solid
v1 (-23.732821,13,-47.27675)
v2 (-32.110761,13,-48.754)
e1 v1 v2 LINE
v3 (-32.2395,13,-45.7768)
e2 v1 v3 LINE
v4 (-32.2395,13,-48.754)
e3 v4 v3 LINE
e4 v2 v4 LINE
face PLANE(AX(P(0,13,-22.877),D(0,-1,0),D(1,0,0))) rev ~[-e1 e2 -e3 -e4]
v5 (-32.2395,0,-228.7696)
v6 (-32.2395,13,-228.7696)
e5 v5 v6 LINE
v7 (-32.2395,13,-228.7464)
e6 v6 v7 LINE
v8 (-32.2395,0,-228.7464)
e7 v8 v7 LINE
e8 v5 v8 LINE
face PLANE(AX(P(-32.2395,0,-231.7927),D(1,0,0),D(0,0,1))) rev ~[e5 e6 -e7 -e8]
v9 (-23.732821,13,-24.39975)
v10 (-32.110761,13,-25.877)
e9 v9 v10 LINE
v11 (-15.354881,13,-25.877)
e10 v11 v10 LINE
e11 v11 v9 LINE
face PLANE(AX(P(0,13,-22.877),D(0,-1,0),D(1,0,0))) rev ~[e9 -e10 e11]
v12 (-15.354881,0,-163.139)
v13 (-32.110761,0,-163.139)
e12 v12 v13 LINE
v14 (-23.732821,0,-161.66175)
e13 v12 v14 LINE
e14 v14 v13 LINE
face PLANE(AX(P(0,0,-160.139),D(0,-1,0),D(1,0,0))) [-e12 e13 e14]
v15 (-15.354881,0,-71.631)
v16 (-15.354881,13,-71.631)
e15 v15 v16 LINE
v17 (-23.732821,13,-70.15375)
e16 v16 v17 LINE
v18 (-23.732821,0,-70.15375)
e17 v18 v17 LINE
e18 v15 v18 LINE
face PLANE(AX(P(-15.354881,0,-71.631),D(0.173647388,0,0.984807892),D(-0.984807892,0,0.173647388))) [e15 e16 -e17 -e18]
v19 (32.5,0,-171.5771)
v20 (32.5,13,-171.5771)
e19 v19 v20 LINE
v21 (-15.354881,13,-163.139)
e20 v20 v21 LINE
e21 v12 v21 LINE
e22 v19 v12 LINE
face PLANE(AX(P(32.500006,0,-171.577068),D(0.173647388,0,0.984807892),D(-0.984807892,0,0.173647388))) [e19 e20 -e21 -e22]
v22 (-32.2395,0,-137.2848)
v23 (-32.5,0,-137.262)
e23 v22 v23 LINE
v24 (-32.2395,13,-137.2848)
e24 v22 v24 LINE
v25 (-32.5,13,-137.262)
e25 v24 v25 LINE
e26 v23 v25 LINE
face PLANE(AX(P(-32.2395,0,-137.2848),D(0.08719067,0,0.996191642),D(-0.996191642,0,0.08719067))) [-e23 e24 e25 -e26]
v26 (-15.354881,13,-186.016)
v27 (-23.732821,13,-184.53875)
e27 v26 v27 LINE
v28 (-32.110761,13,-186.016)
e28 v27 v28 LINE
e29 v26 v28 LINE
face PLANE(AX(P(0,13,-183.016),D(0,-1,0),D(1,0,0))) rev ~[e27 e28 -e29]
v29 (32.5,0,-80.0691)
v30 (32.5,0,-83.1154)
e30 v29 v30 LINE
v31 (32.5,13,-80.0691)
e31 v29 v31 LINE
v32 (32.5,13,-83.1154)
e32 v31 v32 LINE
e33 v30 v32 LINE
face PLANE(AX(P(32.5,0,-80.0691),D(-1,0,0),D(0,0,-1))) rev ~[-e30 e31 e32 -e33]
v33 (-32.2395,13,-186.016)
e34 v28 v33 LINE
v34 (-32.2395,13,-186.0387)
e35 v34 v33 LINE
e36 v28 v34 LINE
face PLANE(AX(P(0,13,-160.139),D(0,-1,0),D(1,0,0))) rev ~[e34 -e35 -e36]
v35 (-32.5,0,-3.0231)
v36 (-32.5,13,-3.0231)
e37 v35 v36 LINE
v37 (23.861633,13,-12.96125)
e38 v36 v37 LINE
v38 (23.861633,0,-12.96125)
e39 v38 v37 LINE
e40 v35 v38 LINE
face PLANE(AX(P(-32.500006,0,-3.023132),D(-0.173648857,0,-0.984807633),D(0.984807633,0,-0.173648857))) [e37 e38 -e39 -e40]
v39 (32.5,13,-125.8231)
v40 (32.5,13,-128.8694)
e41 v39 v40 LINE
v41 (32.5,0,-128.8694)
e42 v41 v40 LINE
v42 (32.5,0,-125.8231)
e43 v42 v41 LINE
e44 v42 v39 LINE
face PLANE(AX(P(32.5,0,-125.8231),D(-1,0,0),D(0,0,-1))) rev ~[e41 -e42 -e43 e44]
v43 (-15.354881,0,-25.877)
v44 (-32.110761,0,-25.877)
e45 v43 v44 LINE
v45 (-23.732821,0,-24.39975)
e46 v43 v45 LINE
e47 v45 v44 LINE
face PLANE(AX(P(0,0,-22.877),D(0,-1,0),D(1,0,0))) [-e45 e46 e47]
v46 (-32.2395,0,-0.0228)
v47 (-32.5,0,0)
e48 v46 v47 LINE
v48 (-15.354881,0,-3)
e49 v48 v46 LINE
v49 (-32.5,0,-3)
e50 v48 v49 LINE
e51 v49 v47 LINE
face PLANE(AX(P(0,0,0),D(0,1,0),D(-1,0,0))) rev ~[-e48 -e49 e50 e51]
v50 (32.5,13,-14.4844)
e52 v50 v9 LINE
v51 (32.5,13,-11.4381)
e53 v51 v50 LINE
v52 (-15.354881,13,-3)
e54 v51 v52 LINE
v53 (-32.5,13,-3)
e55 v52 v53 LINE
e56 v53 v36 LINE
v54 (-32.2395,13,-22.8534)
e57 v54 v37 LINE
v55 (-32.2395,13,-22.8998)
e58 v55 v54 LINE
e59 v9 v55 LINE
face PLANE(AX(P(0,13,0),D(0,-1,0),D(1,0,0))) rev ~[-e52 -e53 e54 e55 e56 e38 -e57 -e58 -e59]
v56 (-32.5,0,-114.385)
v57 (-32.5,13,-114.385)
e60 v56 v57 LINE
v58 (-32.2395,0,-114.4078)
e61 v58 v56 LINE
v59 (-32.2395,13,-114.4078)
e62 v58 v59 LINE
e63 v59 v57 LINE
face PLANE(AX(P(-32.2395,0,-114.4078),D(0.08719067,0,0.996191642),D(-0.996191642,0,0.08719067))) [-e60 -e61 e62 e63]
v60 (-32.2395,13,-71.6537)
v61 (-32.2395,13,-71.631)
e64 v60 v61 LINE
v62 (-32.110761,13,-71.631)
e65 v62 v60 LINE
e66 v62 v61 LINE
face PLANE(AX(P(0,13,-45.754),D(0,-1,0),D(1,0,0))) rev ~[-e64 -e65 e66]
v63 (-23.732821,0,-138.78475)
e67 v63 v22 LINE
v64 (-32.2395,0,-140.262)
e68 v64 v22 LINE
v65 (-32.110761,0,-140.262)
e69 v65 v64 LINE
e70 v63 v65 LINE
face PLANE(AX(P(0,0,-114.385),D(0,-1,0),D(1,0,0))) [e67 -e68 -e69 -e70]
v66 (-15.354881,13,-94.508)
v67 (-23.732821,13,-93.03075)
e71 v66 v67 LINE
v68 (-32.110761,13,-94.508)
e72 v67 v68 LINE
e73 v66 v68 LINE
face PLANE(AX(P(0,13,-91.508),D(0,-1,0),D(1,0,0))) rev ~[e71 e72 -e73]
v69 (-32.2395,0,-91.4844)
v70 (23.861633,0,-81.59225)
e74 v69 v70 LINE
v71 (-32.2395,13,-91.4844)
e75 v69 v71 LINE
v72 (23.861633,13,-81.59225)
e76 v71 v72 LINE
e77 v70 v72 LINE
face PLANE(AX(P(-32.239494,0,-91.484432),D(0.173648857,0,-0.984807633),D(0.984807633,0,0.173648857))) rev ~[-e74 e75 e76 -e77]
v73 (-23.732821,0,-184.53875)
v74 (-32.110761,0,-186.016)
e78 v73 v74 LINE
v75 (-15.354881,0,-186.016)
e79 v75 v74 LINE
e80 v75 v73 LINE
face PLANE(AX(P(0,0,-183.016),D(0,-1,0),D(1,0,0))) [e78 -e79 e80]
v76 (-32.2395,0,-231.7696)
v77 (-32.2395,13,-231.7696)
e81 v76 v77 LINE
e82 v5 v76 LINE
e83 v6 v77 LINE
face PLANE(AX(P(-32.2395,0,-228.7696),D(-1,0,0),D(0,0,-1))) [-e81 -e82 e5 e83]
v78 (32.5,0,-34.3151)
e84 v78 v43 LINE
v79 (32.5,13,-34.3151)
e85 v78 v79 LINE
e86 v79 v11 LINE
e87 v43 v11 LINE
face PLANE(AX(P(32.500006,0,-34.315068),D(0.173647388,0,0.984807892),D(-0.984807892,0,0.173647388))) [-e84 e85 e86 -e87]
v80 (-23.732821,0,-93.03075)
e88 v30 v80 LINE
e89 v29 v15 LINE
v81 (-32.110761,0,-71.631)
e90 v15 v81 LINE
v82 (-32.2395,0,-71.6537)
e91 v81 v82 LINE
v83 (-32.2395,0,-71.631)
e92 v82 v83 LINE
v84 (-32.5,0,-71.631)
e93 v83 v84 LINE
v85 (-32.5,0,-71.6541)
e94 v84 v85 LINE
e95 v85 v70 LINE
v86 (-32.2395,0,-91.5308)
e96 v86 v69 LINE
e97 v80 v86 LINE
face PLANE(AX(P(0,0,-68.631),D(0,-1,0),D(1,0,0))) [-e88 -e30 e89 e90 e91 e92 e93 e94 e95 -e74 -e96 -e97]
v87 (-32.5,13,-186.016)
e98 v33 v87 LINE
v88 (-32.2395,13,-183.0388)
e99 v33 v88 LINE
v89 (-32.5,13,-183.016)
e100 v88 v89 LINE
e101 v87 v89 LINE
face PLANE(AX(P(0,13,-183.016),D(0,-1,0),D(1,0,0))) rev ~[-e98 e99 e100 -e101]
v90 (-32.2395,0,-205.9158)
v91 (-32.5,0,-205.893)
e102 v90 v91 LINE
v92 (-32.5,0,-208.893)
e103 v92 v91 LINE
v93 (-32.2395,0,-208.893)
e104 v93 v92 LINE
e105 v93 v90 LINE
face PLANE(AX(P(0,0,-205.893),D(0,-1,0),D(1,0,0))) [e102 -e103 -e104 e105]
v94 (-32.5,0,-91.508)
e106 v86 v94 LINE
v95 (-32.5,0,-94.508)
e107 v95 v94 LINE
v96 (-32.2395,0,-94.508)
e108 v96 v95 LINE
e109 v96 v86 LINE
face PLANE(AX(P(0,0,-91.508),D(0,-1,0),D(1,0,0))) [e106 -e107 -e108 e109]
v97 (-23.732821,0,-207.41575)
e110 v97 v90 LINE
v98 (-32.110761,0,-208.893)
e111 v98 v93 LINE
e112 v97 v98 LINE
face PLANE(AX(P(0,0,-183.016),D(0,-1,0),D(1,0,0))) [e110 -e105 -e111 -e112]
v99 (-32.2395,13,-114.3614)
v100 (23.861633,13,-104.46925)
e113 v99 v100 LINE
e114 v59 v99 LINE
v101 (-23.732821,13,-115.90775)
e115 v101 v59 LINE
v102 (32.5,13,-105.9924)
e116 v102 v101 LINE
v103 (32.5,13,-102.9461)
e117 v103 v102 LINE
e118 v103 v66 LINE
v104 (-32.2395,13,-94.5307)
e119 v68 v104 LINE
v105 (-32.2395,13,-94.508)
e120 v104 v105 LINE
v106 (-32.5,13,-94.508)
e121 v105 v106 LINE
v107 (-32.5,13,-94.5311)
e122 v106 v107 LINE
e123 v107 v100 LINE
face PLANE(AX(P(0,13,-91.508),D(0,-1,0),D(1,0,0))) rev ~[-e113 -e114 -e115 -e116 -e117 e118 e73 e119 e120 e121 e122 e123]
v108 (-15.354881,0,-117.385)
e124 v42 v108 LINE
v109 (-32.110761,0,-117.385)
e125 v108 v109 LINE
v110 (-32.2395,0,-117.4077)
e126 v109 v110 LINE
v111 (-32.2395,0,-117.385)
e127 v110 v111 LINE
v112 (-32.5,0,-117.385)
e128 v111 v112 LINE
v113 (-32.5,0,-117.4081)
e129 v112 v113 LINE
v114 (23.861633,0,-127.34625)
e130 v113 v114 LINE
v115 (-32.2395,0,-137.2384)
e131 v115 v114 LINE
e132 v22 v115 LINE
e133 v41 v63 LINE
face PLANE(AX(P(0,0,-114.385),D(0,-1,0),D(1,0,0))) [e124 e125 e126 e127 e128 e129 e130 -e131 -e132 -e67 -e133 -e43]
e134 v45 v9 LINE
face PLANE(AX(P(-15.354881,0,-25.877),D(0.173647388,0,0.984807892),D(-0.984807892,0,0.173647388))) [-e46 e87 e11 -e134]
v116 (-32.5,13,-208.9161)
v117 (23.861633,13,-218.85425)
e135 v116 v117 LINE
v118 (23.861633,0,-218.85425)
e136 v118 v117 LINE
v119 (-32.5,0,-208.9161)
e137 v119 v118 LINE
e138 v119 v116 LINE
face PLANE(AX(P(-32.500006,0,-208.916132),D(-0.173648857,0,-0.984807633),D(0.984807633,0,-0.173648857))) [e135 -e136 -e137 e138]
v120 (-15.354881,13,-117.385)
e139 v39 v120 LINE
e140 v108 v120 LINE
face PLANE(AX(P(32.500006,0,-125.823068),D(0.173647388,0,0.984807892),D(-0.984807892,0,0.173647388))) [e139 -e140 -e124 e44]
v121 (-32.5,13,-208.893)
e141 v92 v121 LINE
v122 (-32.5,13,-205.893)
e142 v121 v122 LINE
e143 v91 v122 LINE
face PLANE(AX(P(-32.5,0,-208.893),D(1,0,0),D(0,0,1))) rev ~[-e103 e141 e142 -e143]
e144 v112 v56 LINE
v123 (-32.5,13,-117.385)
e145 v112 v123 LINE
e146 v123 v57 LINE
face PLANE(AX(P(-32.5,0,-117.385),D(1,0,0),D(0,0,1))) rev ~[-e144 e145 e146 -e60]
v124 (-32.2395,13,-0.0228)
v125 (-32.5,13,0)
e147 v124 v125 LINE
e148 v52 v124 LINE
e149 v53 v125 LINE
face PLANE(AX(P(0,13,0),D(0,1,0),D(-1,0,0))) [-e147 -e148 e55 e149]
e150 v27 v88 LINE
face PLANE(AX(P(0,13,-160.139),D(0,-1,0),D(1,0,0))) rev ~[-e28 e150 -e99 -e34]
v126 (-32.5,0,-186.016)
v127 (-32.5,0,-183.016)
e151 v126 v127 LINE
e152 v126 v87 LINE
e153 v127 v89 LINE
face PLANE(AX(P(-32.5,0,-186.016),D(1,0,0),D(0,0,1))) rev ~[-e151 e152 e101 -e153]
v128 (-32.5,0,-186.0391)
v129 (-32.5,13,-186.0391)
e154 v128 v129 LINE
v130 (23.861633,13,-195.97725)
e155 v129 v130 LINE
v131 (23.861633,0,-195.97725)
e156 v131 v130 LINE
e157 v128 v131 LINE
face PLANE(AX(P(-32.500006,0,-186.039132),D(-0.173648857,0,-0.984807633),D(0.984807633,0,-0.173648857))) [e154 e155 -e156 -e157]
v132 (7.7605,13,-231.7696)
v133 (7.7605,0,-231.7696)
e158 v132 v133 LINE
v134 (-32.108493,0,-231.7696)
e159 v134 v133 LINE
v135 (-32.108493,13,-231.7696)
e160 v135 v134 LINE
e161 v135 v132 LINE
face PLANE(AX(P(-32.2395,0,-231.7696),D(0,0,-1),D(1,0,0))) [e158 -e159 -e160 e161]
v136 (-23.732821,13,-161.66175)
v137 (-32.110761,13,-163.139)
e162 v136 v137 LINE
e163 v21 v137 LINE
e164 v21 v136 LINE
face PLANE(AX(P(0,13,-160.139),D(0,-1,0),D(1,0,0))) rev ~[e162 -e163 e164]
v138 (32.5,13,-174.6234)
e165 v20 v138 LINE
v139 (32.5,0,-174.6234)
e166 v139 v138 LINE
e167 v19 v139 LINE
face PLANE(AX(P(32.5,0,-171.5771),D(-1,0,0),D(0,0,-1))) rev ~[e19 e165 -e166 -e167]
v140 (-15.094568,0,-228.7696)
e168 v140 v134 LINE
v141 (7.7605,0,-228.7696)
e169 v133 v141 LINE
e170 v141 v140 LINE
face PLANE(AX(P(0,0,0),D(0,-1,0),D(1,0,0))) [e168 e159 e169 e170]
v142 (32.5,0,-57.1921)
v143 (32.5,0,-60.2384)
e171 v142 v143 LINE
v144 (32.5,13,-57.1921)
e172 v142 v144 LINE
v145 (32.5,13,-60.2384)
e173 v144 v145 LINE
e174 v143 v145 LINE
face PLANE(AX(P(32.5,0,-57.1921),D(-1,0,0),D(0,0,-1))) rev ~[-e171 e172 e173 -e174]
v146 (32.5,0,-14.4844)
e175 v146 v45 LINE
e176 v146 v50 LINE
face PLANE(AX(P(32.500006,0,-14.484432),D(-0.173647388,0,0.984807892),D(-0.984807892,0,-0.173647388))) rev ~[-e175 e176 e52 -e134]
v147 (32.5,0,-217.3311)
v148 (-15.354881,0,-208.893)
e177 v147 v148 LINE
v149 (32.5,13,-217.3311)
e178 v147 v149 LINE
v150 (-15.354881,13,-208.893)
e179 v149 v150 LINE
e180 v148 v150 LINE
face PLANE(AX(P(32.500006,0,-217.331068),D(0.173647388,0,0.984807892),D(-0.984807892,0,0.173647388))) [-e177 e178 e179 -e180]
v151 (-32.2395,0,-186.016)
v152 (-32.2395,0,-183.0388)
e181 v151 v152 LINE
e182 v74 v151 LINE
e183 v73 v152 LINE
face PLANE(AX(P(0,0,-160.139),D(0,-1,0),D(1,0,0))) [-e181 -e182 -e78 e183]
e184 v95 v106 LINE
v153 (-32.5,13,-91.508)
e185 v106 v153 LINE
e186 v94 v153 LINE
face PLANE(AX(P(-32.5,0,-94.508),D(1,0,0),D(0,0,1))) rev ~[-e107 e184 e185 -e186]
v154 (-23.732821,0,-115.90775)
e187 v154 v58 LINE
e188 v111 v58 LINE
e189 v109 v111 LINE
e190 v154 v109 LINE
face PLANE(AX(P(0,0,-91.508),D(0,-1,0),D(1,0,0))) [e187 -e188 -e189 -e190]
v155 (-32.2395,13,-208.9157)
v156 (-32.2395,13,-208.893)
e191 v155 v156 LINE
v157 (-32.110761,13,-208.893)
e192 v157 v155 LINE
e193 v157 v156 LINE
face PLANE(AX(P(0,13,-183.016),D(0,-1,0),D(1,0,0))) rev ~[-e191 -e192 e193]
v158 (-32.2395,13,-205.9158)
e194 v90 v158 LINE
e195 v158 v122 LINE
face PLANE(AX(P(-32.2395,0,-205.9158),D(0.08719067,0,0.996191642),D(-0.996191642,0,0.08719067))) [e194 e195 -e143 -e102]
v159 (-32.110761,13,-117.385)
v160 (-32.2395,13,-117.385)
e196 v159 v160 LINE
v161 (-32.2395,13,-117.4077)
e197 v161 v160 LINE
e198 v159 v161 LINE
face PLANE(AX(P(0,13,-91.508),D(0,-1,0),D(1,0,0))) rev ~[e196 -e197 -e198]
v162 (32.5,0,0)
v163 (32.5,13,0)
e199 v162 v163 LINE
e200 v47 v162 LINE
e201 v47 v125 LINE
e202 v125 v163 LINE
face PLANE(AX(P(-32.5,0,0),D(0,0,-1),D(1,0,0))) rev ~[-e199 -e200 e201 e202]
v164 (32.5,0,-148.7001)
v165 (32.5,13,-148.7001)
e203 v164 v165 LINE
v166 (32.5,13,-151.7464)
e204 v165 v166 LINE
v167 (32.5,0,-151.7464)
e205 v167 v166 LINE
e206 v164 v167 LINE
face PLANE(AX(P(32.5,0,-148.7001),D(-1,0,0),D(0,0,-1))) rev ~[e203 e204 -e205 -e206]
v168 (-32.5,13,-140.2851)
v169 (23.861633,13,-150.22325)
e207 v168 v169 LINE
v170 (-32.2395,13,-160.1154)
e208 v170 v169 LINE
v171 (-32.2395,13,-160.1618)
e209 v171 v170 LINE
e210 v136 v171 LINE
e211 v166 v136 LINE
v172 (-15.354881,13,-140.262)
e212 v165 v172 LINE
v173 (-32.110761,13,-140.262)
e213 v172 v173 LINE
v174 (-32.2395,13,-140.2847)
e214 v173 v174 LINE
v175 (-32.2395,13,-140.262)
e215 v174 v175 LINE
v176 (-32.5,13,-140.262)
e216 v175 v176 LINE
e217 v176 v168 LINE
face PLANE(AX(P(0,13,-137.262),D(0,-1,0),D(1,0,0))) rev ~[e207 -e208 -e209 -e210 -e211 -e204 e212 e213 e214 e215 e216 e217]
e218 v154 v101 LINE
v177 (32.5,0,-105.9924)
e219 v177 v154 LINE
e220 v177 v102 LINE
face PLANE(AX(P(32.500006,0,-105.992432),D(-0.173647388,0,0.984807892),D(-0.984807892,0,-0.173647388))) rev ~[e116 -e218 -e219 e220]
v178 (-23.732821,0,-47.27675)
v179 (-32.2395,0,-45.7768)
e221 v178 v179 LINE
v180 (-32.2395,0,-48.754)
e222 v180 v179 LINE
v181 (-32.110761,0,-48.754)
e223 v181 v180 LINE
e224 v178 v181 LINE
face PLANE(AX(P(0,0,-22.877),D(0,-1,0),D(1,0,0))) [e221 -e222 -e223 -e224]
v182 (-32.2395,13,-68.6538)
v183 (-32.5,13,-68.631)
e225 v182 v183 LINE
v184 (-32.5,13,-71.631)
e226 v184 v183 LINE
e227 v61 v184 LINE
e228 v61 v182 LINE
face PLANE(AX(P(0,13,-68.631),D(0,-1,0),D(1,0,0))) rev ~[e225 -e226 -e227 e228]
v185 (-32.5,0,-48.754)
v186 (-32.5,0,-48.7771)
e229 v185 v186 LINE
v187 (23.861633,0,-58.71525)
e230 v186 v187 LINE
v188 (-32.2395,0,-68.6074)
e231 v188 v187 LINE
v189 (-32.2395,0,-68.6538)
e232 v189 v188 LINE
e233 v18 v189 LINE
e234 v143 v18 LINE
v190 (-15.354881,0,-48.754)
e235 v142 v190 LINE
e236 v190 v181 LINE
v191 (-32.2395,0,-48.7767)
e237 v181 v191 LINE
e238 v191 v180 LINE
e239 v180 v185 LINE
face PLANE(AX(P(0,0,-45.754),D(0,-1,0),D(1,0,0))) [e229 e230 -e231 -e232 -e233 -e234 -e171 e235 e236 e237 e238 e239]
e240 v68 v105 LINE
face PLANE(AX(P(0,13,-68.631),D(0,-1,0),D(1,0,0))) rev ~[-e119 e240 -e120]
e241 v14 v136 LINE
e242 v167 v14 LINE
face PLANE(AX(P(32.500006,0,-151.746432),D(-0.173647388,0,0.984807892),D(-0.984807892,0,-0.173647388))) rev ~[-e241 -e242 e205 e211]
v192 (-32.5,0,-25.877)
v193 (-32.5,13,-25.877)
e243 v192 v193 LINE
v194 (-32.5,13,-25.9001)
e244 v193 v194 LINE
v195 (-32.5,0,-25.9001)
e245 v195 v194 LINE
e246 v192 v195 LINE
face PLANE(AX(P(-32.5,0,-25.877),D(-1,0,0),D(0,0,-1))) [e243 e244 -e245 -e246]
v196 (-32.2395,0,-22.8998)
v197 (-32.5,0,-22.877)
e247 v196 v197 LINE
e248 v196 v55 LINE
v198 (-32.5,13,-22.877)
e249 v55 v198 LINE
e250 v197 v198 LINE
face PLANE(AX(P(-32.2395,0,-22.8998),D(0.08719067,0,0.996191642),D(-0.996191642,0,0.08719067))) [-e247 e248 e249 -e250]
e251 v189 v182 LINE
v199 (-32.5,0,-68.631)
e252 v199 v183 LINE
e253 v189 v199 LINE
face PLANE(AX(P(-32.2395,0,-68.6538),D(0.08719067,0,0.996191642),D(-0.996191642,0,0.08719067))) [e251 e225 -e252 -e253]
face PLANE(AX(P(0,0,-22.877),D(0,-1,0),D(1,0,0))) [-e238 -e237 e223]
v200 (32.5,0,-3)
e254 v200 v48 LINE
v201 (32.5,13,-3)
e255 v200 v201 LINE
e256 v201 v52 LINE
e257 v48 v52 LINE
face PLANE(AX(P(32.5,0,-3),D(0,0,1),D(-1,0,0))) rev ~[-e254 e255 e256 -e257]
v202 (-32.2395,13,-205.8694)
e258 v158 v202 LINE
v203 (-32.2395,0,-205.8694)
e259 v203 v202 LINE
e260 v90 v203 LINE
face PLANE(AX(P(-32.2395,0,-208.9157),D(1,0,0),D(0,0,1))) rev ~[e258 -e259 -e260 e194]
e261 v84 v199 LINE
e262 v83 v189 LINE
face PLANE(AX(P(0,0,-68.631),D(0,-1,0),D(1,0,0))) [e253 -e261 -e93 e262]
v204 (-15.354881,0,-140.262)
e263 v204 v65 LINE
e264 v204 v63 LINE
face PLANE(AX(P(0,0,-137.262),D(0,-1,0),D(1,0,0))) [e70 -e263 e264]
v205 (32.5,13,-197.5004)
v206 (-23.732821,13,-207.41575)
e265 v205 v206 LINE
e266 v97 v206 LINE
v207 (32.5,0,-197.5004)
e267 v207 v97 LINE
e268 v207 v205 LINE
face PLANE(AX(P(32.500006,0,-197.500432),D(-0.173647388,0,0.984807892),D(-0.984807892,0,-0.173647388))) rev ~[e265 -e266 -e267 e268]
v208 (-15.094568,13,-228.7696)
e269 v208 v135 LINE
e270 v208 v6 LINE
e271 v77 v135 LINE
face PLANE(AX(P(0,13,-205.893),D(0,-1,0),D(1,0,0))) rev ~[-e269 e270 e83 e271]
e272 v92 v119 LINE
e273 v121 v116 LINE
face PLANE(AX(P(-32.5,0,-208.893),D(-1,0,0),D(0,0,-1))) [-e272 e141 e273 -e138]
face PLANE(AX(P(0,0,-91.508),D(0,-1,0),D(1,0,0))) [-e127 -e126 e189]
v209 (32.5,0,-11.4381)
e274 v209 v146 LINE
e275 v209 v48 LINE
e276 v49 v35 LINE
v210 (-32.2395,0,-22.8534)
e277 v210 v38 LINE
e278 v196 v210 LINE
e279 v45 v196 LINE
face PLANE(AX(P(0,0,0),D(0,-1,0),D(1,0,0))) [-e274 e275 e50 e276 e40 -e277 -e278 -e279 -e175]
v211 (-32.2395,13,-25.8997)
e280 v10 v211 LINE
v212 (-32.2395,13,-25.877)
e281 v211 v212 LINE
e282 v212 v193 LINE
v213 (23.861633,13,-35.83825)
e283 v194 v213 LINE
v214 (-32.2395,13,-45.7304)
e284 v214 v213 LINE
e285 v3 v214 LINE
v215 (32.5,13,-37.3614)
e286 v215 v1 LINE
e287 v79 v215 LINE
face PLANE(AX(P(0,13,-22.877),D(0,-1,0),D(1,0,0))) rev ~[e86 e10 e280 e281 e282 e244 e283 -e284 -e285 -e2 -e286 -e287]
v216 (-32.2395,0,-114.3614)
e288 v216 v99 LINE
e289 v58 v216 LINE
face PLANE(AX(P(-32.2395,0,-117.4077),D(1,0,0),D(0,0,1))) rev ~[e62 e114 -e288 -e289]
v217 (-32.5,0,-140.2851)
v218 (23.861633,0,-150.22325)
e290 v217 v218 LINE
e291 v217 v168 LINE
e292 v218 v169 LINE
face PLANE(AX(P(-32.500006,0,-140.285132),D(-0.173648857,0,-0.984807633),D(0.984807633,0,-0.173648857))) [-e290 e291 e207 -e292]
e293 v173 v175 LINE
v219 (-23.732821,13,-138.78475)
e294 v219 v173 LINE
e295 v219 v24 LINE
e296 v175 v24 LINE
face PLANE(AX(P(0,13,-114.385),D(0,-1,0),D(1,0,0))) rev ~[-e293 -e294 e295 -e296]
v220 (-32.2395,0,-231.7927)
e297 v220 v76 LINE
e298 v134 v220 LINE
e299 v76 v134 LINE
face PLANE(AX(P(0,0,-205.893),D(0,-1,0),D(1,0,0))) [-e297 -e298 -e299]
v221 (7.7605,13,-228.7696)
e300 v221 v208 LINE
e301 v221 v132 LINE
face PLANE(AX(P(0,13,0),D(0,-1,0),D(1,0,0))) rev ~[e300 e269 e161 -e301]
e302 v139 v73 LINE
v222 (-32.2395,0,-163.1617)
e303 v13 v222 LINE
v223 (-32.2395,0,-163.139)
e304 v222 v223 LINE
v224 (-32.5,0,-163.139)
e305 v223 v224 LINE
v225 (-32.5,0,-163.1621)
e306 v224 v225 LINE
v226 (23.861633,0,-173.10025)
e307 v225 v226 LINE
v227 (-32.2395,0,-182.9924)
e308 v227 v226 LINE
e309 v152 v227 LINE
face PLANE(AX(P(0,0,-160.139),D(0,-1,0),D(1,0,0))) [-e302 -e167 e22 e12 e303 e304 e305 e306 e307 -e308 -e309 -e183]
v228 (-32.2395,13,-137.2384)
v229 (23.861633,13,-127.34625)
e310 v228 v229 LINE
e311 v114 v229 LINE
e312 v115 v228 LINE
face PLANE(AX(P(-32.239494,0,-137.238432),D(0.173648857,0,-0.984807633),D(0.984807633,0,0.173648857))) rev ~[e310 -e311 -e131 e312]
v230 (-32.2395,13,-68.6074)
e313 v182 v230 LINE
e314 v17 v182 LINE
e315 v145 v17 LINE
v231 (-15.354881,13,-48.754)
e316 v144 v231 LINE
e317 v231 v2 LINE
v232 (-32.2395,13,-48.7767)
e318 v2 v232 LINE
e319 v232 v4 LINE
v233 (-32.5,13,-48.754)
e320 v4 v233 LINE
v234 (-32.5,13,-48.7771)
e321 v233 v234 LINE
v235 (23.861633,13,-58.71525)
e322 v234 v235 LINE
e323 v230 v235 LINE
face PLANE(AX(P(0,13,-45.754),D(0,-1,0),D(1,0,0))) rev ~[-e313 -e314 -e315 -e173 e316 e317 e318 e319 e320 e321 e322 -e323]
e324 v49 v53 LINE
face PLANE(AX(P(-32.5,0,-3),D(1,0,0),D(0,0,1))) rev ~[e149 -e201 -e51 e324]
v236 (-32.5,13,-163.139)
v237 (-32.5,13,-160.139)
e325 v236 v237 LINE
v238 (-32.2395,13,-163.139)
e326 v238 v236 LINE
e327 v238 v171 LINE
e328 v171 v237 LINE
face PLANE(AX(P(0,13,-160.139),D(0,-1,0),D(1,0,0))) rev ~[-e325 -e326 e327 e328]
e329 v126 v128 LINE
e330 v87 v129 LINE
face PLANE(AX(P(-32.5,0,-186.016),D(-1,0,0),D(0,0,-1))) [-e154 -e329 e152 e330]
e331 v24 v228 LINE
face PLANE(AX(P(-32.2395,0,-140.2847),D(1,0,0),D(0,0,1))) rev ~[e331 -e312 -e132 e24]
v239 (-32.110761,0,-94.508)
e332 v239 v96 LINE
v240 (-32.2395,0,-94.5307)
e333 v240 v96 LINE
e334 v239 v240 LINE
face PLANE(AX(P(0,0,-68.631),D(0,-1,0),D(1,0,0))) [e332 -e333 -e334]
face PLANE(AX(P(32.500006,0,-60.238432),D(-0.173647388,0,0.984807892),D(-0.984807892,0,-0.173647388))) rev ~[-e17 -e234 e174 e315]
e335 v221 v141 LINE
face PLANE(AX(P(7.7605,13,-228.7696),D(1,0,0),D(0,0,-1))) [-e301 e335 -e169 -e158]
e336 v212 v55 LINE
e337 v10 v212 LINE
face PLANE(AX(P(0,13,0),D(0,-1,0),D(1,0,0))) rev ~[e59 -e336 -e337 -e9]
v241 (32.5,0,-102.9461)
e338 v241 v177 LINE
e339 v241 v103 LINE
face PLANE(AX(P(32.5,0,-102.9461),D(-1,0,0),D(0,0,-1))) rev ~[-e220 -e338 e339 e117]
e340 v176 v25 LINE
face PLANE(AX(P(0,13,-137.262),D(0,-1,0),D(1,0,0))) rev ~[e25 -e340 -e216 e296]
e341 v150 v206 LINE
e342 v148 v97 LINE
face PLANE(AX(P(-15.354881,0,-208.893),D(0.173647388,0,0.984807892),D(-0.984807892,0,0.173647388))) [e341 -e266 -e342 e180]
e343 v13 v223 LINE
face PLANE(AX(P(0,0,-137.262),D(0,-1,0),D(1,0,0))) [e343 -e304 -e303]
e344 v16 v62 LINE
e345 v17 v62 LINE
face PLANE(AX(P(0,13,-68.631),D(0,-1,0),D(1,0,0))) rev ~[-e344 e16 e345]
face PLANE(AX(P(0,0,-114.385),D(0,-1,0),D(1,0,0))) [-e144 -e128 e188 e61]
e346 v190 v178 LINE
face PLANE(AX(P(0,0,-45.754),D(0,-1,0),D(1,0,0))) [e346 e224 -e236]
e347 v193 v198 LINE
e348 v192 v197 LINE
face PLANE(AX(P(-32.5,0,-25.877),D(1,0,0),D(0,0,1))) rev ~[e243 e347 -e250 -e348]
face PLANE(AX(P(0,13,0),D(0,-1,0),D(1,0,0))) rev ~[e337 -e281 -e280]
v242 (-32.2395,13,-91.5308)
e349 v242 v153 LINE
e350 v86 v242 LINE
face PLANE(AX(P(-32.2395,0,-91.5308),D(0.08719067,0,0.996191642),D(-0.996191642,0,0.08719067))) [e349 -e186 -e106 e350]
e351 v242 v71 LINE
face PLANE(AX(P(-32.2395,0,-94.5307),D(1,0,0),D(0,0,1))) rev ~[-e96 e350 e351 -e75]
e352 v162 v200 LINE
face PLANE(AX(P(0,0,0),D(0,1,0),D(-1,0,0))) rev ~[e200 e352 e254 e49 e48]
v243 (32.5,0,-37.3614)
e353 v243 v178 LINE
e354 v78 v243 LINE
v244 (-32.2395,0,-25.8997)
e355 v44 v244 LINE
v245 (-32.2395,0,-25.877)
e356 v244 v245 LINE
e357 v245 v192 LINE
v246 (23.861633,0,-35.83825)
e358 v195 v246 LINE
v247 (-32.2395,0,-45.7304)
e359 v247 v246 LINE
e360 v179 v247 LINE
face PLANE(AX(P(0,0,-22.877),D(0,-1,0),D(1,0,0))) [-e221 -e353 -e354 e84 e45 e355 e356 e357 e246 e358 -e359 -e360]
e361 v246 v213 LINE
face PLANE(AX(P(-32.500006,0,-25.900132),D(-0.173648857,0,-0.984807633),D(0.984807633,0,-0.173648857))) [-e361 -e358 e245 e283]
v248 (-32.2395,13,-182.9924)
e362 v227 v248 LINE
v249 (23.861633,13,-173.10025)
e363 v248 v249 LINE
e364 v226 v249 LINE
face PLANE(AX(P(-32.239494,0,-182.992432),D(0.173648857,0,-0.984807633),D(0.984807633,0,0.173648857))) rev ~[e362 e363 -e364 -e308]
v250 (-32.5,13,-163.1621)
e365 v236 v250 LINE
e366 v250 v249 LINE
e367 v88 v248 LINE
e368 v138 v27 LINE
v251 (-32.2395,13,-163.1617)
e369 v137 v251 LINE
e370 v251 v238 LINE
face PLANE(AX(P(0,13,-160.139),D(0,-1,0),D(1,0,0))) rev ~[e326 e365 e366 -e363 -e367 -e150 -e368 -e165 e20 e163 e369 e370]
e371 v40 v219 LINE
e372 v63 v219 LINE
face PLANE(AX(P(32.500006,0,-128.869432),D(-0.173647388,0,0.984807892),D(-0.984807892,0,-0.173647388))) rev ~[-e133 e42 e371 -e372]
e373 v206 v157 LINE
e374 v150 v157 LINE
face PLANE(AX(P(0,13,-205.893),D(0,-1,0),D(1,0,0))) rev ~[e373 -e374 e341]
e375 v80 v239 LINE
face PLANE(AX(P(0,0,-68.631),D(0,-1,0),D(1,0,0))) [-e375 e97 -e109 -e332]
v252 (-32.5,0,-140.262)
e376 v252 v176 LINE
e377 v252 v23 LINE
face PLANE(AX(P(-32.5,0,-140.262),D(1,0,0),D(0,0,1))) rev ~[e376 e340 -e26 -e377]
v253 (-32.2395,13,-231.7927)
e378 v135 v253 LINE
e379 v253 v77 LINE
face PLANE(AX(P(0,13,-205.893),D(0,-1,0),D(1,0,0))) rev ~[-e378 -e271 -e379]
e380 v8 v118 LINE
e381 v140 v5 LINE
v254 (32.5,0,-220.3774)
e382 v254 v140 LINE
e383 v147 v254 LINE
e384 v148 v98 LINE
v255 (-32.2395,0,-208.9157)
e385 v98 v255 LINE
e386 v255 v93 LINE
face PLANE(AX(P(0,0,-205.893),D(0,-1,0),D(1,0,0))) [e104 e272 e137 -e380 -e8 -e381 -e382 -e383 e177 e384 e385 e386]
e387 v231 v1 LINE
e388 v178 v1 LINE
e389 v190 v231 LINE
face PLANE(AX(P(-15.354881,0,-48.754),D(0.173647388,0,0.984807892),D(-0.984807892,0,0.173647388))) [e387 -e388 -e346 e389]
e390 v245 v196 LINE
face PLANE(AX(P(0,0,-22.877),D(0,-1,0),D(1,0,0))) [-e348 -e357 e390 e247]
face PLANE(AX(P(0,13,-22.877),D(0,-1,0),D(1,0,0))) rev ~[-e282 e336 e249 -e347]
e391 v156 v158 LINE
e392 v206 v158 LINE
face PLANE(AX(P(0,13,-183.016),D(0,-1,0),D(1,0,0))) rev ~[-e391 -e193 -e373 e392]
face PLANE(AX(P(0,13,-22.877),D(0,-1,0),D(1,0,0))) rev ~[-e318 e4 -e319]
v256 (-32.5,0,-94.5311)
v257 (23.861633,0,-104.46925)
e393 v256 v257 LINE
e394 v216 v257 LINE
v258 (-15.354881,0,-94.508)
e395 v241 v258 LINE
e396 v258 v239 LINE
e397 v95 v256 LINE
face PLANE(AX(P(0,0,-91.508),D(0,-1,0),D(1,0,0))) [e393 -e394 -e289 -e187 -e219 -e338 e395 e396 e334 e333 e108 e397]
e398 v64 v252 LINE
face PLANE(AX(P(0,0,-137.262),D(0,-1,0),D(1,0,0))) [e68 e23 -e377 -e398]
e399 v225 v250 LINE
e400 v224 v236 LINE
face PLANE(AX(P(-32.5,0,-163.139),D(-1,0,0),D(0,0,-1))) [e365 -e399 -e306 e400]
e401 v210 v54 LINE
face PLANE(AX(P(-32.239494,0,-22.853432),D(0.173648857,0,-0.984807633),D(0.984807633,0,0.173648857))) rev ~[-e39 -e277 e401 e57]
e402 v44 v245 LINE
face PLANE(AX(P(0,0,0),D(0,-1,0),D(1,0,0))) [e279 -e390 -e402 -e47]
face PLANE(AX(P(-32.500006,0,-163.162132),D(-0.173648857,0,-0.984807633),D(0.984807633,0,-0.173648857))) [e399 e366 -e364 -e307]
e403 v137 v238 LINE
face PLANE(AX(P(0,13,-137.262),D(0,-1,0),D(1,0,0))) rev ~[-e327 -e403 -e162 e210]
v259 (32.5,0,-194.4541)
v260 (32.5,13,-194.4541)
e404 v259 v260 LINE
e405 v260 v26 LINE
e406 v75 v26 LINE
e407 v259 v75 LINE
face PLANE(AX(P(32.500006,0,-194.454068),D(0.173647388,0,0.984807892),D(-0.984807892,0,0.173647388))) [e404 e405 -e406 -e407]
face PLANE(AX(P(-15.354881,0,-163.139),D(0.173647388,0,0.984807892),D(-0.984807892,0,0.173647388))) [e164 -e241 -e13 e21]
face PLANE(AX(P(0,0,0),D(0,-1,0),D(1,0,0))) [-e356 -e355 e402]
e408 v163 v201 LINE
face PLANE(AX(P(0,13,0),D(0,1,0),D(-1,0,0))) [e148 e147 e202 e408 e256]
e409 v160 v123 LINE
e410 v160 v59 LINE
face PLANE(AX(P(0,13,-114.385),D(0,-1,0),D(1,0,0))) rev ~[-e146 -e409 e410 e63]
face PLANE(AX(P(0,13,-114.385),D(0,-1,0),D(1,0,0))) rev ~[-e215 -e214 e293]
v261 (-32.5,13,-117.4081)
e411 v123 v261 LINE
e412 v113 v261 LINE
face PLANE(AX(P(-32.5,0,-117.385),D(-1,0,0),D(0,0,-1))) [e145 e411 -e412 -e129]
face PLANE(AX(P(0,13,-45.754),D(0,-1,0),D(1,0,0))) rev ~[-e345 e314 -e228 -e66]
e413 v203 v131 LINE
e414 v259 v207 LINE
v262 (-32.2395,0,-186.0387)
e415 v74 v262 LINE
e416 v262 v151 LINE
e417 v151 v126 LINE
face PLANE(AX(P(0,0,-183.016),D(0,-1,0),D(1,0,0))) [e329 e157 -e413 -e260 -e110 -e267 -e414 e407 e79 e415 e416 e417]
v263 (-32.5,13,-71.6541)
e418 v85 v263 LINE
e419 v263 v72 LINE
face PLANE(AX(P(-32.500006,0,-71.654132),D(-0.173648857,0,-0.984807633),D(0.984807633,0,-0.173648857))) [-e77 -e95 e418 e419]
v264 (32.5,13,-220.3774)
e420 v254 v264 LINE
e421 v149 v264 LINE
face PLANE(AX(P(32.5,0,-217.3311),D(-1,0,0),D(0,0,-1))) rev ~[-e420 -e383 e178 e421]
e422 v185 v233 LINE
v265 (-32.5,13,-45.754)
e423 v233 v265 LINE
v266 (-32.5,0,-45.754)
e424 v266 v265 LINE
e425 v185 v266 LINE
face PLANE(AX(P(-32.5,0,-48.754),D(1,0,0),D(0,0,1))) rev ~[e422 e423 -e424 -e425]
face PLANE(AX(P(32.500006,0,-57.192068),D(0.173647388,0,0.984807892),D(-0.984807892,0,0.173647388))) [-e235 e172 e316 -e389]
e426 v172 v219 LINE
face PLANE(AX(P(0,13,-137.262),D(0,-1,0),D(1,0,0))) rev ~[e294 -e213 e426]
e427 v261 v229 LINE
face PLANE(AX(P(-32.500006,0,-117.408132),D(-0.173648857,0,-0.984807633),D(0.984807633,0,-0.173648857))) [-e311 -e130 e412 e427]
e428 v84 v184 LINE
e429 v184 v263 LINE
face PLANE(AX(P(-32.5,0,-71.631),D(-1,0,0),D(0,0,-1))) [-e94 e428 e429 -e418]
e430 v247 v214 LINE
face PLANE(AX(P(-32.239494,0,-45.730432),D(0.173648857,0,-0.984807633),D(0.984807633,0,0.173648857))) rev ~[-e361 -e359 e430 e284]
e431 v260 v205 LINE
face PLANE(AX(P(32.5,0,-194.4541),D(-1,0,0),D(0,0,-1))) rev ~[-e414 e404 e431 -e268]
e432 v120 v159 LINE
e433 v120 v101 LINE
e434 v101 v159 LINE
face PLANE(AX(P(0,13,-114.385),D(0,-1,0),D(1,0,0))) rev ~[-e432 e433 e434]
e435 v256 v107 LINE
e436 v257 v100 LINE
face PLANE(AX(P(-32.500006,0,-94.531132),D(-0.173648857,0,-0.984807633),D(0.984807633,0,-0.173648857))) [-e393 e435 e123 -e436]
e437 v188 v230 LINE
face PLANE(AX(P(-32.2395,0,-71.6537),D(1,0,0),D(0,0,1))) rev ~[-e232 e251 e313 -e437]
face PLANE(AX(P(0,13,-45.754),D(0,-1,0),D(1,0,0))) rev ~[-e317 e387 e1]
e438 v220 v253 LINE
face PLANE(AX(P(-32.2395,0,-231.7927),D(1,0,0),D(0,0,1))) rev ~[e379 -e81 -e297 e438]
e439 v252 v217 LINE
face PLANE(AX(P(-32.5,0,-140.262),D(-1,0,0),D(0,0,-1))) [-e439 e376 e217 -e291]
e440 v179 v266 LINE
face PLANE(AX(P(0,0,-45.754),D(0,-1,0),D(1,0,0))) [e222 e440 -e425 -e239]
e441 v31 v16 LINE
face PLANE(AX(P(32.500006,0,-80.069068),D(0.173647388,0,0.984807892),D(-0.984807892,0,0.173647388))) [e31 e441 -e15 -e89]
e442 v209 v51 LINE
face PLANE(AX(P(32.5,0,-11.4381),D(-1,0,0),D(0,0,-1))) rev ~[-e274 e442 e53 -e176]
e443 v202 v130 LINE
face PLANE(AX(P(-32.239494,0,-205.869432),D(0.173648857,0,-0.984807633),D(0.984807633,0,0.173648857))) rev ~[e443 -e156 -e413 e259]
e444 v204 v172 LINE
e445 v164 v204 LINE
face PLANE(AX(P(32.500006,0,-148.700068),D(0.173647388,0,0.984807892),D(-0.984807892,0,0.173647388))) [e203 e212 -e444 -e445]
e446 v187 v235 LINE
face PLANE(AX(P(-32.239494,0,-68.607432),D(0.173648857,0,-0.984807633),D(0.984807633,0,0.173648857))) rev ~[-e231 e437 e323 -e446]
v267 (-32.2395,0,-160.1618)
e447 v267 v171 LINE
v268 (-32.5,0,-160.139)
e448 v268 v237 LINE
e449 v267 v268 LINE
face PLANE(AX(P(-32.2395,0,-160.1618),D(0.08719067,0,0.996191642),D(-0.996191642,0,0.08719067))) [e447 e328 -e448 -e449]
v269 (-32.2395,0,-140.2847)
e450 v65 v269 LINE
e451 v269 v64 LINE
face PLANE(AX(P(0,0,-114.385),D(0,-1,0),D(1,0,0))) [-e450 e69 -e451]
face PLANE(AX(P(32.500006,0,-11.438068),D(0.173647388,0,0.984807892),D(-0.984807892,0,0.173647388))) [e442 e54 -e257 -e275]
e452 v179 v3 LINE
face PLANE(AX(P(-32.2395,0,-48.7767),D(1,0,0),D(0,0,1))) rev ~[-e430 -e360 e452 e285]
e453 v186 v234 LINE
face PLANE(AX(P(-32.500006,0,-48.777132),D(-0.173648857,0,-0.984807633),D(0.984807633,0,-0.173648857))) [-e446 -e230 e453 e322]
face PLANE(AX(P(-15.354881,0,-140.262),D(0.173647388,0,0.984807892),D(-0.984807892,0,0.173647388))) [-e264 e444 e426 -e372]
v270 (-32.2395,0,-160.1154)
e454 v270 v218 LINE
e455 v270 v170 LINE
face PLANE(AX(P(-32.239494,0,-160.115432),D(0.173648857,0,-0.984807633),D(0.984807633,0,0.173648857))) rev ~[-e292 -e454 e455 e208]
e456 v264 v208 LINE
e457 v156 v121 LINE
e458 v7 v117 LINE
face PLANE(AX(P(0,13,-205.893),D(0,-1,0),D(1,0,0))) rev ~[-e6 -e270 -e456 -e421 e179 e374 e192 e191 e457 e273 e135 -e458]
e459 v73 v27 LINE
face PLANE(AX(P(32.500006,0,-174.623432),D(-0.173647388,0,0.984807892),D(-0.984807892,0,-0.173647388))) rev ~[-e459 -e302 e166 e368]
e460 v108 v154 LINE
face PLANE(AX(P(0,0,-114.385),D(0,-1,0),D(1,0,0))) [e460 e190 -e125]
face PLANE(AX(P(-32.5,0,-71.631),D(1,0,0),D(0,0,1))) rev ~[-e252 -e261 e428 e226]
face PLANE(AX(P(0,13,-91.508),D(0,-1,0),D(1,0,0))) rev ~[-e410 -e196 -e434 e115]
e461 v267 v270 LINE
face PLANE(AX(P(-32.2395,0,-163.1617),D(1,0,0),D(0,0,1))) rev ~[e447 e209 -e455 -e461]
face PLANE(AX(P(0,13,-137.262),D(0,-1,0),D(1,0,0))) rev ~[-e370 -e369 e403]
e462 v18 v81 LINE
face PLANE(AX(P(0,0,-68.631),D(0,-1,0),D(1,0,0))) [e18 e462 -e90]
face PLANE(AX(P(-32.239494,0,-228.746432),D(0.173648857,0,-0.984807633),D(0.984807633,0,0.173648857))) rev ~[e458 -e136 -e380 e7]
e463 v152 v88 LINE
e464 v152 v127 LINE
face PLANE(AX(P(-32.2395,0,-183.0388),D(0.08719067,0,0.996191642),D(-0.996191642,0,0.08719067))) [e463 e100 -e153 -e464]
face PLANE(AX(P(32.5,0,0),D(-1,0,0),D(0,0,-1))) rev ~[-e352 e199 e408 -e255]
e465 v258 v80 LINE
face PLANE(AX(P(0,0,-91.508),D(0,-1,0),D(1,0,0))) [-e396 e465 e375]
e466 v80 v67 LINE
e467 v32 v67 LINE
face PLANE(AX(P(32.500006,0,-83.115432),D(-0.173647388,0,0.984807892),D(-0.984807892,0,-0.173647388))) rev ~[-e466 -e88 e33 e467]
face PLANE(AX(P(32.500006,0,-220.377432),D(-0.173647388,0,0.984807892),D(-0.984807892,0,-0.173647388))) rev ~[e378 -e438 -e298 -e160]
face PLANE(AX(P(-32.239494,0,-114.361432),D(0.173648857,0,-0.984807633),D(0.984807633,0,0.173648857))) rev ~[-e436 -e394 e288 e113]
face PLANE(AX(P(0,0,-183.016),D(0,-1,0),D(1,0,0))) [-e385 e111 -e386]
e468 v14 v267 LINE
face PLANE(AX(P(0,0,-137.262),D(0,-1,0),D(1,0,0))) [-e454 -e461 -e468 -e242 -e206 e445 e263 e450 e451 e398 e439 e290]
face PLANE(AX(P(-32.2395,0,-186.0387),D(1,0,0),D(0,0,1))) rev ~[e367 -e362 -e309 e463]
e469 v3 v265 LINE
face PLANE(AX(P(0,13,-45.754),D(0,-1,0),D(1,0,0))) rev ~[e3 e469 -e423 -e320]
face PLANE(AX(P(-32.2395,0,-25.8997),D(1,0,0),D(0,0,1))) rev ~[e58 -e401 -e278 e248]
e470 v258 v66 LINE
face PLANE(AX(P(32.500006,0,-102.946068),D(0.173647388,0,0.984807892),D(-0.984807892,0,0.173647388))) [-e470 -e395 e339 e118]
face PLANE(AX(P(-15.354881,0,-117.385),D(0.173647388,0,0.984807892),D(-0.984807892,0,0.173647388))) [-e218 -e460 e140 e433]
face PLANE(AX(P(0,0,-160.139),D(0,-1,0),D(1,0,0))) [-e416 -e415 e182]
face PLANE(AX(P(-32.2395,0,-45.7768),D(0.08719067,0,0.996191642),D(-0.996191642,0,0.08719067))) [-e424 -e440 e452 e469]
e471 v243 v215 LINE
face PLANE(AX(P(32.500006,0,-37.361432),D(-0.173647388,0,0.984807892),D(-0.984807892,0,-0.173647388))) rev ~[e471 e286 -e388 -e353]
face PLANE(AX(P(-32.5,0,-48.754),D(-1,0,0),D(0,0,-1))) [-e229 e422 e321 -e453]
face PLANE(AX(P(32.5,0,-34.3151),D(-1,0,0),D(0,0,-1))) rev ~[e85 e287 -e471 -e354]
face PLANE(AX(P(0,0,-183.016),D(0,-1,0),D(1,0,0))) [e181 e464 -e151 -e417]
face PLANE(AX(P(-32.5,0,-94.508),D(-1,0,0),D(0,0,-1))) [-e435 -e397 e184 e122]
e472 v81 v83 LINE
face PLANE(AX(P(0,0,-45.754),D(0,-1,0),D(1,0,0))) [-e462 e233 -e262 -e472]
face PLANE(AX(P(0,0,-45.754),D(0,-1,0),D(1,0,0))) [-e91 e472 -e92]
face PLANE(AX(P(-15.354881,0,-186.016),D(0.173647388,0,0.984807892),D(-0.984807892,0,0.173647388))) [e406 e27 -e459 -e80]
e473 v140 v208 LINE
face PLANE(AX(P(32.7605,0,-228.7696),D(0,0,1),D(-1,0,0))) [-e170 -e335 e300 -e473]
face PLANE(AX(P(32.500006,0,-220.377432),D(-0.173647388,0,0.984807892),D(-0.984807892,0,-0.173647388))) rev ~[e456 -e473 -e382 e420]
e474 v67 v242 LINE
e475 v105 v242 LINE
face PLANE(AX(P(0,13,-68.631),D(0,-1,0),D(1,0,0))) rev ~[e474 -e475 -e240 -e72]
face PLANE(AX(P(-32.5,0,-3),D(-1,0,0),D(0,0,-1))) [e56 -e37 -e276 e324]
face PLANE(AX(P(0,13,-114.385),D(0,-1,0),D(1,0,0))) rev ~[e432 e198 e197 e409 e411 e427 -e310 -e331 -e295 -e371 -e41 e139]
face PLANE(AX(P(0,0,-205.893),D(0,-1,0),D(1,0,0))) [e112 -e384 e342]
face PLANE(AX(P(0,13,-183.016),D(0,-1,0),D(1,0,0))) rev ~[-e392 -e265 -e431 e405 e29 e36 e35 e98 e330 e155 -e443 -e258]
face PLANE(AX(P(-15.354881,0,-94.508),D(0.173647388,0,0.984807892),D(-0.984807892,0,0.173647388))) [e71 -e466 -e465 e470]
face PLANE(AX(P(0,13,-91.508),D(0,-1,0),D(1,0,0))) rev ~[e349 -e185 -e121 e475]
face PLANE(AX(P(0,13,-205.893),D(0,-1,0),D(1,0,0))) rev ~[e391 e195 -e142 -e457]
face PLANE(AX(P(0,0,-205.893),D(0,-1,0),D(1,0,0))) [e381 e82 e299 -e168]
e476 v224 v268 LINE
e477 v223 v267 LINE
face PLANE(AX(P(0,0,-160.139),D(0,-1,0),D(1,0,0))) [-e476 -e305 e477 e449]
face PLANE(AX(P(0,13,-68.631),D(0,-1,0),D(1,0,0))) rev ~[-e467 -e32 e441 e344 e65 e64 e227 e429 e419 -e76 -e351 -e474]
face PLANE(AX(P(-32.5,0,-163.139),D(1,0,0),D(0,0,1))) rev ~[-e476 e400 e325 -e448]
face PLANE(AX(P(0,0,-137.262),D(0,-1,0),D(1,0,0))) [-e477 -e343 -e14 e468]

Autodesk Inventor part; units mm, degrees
ref_plane "YZ Plane" through (0, 0, 0) normal (1, 0, 0) x (0, 1, 0)
ref_plane "XZ Plane" through (0, 0, 0) normal (0, 1, 0) x (-1, 0, 0)
ref_plane "XY Plane" through (0, 0, 0) normal (0, 0, 1) x (1, 0, 0)
sketch "スケッチ2" plane through (0, 0, 0) normal (0, 1, 0) x (-1, 0, 0)
  line L0 (32.5, 0) -> (-32.5, 0)
  line L1 (-32.5, 0) -> (-32.5, -3)
  line L2 (-32.5, -3) -> (32.5, -3)
  line L3 (32.5, -3) -> (32.5, 0)
  point P0 (0, 0)
  point P1 (0, 0)
  dimension "d8" = 65
  dimension "d9" = 3
extrude "押し出し2" add sketch "スケッチ2" along normal blind 13
sketch "スケッチ3" plane through (0, 0, 0) normal (0, -1, 0) x (1, 0, 0)
  line L0 (-32.2395, -0.0228) -> (-32.7605, -2.9772) construction
  line L1 (-32.7605, -2.9772) -> (32.2395, -14.4385)
  line L2 (32.2395, -14.4385) -> (32.7605, -11.484) construction
  line L3 (32.7605, -11.484) -> (-32.2395, -0.0228)
  line L4 (32.2395, -11.484) -> (32.7605, -14.4385) construction
  line L5 (32.7605, -14.4385) -> (-32.2395, -25.8997)
  line L6 (-32.2395, -25.8997) -> (-32.7605, -22.9453) construction
  line L7 (-32.7605, -22.9453) -> (32.2395, -11.484)
  line L8 (-32.5, -3) -> (-32.5, 0) projected
  line L9 (32.5, -3) -> (-32.5, -3) projected
  line L10 (32.5, 0) -> (32.5, -3) projected
  line L11 (-32.5, 0) -> (-32.5, -3.0231)
  line L12 (-32.2395, -25.8997) -> (-32.2395, -22.8534)
  line L13 (32.5, -11.4381) -> (32.5, -14.4844)
  line L14 (-32.5, -3) -> (-32.5, 0) projected
  line L15 (-32.2395, -0.0228) -> (-32.5, 0)
  point P0 (32.5, -12.9613)
  point P1 (-32.5, -1.5)
  point P2 (-32.5, -1.5)
  point P3 (-32.5, -24.4225)
  point P4 (32.5, -1.5)
  point P5 (-15.3549, -3)
  point P6 (23.8618, -12.9613)
  point P7 (-32.2395, -24.3766)
  point P8 (-32.5, -1.5)
  dimension "d13" = 10
  dimension "d14" = 20
  dimension "d17" = 22.8766
extrude "押し出し3" add sketch "スケッチ3" against normal up to surface (13 mm away)
pattern_linear "矩形状パターン1" count 10 spacing 22.877 along (0, 0, -1) of "押し出し3"
sketch "スケッチ4" plane through (0, 0, 0) normal (0, -1, 0) x (1, 0, 0)
  line L0 (32.7605, -228.7696) -> (-32.2395, -228.7696)
  line L1 (-32.2395, -228.7696) -> (-32.2395, -231.7696)
  line L2 (-32.2395, -231.7696) -> (32.7605, -231.7696)
  line L3 (32.7605, -231.7696) -> (32.7605, -228.7696)
  line L4 (-32.5, 0) -> (32.5, 0) projected
  line L5 (-32.2395, -228.7464) -> (-32.2395, -231.7927) projected
  line L6 (32.5, -3) -> (-15.3549, -3) projected
  point P0 (0, 0)
  point P1 (-32.2395, -230.2696)
  dimension "d21" = 3
  dimension "d24" = 3
extrude "押し出し4" add sketch "スケッチ4" against normal up to surface (13 mm away)
sketch "スケッチ5" plane through (0, 13, 0) normal (0, 1, 0) x (1, 0, 0)
  line L0 (32.7605, 228.7696) -> (7.7605, 228.7696)
  line L1 (7.7605, 228.7696) -> (7.7605, 231.7696)
  line L2 (7.7605, 231.7696) -> (32.7605, 231.7696)
  line L3 (32.7605, 231.7696) -> (32.7605, 228.7696)
  line L4 (32.7605, 231.7696) -> (32.7605, 228.7696) projected
  line L5 (32.7605, 228.7696) -> (-15.0944, 228.7696) projected
  line L6 (-32.1083, 231.7696) -> (32.7605, 231.7696) projected
  point P0 (0, 0)
  dimension "d25" = 25
extrude "押し出し5" cut sketch "スケッチ5" against normal through all
equation "\"d13\" = 0.5 * d14"
equation "\"d21\" = d24"
properties part number "spring" material "鉛"
